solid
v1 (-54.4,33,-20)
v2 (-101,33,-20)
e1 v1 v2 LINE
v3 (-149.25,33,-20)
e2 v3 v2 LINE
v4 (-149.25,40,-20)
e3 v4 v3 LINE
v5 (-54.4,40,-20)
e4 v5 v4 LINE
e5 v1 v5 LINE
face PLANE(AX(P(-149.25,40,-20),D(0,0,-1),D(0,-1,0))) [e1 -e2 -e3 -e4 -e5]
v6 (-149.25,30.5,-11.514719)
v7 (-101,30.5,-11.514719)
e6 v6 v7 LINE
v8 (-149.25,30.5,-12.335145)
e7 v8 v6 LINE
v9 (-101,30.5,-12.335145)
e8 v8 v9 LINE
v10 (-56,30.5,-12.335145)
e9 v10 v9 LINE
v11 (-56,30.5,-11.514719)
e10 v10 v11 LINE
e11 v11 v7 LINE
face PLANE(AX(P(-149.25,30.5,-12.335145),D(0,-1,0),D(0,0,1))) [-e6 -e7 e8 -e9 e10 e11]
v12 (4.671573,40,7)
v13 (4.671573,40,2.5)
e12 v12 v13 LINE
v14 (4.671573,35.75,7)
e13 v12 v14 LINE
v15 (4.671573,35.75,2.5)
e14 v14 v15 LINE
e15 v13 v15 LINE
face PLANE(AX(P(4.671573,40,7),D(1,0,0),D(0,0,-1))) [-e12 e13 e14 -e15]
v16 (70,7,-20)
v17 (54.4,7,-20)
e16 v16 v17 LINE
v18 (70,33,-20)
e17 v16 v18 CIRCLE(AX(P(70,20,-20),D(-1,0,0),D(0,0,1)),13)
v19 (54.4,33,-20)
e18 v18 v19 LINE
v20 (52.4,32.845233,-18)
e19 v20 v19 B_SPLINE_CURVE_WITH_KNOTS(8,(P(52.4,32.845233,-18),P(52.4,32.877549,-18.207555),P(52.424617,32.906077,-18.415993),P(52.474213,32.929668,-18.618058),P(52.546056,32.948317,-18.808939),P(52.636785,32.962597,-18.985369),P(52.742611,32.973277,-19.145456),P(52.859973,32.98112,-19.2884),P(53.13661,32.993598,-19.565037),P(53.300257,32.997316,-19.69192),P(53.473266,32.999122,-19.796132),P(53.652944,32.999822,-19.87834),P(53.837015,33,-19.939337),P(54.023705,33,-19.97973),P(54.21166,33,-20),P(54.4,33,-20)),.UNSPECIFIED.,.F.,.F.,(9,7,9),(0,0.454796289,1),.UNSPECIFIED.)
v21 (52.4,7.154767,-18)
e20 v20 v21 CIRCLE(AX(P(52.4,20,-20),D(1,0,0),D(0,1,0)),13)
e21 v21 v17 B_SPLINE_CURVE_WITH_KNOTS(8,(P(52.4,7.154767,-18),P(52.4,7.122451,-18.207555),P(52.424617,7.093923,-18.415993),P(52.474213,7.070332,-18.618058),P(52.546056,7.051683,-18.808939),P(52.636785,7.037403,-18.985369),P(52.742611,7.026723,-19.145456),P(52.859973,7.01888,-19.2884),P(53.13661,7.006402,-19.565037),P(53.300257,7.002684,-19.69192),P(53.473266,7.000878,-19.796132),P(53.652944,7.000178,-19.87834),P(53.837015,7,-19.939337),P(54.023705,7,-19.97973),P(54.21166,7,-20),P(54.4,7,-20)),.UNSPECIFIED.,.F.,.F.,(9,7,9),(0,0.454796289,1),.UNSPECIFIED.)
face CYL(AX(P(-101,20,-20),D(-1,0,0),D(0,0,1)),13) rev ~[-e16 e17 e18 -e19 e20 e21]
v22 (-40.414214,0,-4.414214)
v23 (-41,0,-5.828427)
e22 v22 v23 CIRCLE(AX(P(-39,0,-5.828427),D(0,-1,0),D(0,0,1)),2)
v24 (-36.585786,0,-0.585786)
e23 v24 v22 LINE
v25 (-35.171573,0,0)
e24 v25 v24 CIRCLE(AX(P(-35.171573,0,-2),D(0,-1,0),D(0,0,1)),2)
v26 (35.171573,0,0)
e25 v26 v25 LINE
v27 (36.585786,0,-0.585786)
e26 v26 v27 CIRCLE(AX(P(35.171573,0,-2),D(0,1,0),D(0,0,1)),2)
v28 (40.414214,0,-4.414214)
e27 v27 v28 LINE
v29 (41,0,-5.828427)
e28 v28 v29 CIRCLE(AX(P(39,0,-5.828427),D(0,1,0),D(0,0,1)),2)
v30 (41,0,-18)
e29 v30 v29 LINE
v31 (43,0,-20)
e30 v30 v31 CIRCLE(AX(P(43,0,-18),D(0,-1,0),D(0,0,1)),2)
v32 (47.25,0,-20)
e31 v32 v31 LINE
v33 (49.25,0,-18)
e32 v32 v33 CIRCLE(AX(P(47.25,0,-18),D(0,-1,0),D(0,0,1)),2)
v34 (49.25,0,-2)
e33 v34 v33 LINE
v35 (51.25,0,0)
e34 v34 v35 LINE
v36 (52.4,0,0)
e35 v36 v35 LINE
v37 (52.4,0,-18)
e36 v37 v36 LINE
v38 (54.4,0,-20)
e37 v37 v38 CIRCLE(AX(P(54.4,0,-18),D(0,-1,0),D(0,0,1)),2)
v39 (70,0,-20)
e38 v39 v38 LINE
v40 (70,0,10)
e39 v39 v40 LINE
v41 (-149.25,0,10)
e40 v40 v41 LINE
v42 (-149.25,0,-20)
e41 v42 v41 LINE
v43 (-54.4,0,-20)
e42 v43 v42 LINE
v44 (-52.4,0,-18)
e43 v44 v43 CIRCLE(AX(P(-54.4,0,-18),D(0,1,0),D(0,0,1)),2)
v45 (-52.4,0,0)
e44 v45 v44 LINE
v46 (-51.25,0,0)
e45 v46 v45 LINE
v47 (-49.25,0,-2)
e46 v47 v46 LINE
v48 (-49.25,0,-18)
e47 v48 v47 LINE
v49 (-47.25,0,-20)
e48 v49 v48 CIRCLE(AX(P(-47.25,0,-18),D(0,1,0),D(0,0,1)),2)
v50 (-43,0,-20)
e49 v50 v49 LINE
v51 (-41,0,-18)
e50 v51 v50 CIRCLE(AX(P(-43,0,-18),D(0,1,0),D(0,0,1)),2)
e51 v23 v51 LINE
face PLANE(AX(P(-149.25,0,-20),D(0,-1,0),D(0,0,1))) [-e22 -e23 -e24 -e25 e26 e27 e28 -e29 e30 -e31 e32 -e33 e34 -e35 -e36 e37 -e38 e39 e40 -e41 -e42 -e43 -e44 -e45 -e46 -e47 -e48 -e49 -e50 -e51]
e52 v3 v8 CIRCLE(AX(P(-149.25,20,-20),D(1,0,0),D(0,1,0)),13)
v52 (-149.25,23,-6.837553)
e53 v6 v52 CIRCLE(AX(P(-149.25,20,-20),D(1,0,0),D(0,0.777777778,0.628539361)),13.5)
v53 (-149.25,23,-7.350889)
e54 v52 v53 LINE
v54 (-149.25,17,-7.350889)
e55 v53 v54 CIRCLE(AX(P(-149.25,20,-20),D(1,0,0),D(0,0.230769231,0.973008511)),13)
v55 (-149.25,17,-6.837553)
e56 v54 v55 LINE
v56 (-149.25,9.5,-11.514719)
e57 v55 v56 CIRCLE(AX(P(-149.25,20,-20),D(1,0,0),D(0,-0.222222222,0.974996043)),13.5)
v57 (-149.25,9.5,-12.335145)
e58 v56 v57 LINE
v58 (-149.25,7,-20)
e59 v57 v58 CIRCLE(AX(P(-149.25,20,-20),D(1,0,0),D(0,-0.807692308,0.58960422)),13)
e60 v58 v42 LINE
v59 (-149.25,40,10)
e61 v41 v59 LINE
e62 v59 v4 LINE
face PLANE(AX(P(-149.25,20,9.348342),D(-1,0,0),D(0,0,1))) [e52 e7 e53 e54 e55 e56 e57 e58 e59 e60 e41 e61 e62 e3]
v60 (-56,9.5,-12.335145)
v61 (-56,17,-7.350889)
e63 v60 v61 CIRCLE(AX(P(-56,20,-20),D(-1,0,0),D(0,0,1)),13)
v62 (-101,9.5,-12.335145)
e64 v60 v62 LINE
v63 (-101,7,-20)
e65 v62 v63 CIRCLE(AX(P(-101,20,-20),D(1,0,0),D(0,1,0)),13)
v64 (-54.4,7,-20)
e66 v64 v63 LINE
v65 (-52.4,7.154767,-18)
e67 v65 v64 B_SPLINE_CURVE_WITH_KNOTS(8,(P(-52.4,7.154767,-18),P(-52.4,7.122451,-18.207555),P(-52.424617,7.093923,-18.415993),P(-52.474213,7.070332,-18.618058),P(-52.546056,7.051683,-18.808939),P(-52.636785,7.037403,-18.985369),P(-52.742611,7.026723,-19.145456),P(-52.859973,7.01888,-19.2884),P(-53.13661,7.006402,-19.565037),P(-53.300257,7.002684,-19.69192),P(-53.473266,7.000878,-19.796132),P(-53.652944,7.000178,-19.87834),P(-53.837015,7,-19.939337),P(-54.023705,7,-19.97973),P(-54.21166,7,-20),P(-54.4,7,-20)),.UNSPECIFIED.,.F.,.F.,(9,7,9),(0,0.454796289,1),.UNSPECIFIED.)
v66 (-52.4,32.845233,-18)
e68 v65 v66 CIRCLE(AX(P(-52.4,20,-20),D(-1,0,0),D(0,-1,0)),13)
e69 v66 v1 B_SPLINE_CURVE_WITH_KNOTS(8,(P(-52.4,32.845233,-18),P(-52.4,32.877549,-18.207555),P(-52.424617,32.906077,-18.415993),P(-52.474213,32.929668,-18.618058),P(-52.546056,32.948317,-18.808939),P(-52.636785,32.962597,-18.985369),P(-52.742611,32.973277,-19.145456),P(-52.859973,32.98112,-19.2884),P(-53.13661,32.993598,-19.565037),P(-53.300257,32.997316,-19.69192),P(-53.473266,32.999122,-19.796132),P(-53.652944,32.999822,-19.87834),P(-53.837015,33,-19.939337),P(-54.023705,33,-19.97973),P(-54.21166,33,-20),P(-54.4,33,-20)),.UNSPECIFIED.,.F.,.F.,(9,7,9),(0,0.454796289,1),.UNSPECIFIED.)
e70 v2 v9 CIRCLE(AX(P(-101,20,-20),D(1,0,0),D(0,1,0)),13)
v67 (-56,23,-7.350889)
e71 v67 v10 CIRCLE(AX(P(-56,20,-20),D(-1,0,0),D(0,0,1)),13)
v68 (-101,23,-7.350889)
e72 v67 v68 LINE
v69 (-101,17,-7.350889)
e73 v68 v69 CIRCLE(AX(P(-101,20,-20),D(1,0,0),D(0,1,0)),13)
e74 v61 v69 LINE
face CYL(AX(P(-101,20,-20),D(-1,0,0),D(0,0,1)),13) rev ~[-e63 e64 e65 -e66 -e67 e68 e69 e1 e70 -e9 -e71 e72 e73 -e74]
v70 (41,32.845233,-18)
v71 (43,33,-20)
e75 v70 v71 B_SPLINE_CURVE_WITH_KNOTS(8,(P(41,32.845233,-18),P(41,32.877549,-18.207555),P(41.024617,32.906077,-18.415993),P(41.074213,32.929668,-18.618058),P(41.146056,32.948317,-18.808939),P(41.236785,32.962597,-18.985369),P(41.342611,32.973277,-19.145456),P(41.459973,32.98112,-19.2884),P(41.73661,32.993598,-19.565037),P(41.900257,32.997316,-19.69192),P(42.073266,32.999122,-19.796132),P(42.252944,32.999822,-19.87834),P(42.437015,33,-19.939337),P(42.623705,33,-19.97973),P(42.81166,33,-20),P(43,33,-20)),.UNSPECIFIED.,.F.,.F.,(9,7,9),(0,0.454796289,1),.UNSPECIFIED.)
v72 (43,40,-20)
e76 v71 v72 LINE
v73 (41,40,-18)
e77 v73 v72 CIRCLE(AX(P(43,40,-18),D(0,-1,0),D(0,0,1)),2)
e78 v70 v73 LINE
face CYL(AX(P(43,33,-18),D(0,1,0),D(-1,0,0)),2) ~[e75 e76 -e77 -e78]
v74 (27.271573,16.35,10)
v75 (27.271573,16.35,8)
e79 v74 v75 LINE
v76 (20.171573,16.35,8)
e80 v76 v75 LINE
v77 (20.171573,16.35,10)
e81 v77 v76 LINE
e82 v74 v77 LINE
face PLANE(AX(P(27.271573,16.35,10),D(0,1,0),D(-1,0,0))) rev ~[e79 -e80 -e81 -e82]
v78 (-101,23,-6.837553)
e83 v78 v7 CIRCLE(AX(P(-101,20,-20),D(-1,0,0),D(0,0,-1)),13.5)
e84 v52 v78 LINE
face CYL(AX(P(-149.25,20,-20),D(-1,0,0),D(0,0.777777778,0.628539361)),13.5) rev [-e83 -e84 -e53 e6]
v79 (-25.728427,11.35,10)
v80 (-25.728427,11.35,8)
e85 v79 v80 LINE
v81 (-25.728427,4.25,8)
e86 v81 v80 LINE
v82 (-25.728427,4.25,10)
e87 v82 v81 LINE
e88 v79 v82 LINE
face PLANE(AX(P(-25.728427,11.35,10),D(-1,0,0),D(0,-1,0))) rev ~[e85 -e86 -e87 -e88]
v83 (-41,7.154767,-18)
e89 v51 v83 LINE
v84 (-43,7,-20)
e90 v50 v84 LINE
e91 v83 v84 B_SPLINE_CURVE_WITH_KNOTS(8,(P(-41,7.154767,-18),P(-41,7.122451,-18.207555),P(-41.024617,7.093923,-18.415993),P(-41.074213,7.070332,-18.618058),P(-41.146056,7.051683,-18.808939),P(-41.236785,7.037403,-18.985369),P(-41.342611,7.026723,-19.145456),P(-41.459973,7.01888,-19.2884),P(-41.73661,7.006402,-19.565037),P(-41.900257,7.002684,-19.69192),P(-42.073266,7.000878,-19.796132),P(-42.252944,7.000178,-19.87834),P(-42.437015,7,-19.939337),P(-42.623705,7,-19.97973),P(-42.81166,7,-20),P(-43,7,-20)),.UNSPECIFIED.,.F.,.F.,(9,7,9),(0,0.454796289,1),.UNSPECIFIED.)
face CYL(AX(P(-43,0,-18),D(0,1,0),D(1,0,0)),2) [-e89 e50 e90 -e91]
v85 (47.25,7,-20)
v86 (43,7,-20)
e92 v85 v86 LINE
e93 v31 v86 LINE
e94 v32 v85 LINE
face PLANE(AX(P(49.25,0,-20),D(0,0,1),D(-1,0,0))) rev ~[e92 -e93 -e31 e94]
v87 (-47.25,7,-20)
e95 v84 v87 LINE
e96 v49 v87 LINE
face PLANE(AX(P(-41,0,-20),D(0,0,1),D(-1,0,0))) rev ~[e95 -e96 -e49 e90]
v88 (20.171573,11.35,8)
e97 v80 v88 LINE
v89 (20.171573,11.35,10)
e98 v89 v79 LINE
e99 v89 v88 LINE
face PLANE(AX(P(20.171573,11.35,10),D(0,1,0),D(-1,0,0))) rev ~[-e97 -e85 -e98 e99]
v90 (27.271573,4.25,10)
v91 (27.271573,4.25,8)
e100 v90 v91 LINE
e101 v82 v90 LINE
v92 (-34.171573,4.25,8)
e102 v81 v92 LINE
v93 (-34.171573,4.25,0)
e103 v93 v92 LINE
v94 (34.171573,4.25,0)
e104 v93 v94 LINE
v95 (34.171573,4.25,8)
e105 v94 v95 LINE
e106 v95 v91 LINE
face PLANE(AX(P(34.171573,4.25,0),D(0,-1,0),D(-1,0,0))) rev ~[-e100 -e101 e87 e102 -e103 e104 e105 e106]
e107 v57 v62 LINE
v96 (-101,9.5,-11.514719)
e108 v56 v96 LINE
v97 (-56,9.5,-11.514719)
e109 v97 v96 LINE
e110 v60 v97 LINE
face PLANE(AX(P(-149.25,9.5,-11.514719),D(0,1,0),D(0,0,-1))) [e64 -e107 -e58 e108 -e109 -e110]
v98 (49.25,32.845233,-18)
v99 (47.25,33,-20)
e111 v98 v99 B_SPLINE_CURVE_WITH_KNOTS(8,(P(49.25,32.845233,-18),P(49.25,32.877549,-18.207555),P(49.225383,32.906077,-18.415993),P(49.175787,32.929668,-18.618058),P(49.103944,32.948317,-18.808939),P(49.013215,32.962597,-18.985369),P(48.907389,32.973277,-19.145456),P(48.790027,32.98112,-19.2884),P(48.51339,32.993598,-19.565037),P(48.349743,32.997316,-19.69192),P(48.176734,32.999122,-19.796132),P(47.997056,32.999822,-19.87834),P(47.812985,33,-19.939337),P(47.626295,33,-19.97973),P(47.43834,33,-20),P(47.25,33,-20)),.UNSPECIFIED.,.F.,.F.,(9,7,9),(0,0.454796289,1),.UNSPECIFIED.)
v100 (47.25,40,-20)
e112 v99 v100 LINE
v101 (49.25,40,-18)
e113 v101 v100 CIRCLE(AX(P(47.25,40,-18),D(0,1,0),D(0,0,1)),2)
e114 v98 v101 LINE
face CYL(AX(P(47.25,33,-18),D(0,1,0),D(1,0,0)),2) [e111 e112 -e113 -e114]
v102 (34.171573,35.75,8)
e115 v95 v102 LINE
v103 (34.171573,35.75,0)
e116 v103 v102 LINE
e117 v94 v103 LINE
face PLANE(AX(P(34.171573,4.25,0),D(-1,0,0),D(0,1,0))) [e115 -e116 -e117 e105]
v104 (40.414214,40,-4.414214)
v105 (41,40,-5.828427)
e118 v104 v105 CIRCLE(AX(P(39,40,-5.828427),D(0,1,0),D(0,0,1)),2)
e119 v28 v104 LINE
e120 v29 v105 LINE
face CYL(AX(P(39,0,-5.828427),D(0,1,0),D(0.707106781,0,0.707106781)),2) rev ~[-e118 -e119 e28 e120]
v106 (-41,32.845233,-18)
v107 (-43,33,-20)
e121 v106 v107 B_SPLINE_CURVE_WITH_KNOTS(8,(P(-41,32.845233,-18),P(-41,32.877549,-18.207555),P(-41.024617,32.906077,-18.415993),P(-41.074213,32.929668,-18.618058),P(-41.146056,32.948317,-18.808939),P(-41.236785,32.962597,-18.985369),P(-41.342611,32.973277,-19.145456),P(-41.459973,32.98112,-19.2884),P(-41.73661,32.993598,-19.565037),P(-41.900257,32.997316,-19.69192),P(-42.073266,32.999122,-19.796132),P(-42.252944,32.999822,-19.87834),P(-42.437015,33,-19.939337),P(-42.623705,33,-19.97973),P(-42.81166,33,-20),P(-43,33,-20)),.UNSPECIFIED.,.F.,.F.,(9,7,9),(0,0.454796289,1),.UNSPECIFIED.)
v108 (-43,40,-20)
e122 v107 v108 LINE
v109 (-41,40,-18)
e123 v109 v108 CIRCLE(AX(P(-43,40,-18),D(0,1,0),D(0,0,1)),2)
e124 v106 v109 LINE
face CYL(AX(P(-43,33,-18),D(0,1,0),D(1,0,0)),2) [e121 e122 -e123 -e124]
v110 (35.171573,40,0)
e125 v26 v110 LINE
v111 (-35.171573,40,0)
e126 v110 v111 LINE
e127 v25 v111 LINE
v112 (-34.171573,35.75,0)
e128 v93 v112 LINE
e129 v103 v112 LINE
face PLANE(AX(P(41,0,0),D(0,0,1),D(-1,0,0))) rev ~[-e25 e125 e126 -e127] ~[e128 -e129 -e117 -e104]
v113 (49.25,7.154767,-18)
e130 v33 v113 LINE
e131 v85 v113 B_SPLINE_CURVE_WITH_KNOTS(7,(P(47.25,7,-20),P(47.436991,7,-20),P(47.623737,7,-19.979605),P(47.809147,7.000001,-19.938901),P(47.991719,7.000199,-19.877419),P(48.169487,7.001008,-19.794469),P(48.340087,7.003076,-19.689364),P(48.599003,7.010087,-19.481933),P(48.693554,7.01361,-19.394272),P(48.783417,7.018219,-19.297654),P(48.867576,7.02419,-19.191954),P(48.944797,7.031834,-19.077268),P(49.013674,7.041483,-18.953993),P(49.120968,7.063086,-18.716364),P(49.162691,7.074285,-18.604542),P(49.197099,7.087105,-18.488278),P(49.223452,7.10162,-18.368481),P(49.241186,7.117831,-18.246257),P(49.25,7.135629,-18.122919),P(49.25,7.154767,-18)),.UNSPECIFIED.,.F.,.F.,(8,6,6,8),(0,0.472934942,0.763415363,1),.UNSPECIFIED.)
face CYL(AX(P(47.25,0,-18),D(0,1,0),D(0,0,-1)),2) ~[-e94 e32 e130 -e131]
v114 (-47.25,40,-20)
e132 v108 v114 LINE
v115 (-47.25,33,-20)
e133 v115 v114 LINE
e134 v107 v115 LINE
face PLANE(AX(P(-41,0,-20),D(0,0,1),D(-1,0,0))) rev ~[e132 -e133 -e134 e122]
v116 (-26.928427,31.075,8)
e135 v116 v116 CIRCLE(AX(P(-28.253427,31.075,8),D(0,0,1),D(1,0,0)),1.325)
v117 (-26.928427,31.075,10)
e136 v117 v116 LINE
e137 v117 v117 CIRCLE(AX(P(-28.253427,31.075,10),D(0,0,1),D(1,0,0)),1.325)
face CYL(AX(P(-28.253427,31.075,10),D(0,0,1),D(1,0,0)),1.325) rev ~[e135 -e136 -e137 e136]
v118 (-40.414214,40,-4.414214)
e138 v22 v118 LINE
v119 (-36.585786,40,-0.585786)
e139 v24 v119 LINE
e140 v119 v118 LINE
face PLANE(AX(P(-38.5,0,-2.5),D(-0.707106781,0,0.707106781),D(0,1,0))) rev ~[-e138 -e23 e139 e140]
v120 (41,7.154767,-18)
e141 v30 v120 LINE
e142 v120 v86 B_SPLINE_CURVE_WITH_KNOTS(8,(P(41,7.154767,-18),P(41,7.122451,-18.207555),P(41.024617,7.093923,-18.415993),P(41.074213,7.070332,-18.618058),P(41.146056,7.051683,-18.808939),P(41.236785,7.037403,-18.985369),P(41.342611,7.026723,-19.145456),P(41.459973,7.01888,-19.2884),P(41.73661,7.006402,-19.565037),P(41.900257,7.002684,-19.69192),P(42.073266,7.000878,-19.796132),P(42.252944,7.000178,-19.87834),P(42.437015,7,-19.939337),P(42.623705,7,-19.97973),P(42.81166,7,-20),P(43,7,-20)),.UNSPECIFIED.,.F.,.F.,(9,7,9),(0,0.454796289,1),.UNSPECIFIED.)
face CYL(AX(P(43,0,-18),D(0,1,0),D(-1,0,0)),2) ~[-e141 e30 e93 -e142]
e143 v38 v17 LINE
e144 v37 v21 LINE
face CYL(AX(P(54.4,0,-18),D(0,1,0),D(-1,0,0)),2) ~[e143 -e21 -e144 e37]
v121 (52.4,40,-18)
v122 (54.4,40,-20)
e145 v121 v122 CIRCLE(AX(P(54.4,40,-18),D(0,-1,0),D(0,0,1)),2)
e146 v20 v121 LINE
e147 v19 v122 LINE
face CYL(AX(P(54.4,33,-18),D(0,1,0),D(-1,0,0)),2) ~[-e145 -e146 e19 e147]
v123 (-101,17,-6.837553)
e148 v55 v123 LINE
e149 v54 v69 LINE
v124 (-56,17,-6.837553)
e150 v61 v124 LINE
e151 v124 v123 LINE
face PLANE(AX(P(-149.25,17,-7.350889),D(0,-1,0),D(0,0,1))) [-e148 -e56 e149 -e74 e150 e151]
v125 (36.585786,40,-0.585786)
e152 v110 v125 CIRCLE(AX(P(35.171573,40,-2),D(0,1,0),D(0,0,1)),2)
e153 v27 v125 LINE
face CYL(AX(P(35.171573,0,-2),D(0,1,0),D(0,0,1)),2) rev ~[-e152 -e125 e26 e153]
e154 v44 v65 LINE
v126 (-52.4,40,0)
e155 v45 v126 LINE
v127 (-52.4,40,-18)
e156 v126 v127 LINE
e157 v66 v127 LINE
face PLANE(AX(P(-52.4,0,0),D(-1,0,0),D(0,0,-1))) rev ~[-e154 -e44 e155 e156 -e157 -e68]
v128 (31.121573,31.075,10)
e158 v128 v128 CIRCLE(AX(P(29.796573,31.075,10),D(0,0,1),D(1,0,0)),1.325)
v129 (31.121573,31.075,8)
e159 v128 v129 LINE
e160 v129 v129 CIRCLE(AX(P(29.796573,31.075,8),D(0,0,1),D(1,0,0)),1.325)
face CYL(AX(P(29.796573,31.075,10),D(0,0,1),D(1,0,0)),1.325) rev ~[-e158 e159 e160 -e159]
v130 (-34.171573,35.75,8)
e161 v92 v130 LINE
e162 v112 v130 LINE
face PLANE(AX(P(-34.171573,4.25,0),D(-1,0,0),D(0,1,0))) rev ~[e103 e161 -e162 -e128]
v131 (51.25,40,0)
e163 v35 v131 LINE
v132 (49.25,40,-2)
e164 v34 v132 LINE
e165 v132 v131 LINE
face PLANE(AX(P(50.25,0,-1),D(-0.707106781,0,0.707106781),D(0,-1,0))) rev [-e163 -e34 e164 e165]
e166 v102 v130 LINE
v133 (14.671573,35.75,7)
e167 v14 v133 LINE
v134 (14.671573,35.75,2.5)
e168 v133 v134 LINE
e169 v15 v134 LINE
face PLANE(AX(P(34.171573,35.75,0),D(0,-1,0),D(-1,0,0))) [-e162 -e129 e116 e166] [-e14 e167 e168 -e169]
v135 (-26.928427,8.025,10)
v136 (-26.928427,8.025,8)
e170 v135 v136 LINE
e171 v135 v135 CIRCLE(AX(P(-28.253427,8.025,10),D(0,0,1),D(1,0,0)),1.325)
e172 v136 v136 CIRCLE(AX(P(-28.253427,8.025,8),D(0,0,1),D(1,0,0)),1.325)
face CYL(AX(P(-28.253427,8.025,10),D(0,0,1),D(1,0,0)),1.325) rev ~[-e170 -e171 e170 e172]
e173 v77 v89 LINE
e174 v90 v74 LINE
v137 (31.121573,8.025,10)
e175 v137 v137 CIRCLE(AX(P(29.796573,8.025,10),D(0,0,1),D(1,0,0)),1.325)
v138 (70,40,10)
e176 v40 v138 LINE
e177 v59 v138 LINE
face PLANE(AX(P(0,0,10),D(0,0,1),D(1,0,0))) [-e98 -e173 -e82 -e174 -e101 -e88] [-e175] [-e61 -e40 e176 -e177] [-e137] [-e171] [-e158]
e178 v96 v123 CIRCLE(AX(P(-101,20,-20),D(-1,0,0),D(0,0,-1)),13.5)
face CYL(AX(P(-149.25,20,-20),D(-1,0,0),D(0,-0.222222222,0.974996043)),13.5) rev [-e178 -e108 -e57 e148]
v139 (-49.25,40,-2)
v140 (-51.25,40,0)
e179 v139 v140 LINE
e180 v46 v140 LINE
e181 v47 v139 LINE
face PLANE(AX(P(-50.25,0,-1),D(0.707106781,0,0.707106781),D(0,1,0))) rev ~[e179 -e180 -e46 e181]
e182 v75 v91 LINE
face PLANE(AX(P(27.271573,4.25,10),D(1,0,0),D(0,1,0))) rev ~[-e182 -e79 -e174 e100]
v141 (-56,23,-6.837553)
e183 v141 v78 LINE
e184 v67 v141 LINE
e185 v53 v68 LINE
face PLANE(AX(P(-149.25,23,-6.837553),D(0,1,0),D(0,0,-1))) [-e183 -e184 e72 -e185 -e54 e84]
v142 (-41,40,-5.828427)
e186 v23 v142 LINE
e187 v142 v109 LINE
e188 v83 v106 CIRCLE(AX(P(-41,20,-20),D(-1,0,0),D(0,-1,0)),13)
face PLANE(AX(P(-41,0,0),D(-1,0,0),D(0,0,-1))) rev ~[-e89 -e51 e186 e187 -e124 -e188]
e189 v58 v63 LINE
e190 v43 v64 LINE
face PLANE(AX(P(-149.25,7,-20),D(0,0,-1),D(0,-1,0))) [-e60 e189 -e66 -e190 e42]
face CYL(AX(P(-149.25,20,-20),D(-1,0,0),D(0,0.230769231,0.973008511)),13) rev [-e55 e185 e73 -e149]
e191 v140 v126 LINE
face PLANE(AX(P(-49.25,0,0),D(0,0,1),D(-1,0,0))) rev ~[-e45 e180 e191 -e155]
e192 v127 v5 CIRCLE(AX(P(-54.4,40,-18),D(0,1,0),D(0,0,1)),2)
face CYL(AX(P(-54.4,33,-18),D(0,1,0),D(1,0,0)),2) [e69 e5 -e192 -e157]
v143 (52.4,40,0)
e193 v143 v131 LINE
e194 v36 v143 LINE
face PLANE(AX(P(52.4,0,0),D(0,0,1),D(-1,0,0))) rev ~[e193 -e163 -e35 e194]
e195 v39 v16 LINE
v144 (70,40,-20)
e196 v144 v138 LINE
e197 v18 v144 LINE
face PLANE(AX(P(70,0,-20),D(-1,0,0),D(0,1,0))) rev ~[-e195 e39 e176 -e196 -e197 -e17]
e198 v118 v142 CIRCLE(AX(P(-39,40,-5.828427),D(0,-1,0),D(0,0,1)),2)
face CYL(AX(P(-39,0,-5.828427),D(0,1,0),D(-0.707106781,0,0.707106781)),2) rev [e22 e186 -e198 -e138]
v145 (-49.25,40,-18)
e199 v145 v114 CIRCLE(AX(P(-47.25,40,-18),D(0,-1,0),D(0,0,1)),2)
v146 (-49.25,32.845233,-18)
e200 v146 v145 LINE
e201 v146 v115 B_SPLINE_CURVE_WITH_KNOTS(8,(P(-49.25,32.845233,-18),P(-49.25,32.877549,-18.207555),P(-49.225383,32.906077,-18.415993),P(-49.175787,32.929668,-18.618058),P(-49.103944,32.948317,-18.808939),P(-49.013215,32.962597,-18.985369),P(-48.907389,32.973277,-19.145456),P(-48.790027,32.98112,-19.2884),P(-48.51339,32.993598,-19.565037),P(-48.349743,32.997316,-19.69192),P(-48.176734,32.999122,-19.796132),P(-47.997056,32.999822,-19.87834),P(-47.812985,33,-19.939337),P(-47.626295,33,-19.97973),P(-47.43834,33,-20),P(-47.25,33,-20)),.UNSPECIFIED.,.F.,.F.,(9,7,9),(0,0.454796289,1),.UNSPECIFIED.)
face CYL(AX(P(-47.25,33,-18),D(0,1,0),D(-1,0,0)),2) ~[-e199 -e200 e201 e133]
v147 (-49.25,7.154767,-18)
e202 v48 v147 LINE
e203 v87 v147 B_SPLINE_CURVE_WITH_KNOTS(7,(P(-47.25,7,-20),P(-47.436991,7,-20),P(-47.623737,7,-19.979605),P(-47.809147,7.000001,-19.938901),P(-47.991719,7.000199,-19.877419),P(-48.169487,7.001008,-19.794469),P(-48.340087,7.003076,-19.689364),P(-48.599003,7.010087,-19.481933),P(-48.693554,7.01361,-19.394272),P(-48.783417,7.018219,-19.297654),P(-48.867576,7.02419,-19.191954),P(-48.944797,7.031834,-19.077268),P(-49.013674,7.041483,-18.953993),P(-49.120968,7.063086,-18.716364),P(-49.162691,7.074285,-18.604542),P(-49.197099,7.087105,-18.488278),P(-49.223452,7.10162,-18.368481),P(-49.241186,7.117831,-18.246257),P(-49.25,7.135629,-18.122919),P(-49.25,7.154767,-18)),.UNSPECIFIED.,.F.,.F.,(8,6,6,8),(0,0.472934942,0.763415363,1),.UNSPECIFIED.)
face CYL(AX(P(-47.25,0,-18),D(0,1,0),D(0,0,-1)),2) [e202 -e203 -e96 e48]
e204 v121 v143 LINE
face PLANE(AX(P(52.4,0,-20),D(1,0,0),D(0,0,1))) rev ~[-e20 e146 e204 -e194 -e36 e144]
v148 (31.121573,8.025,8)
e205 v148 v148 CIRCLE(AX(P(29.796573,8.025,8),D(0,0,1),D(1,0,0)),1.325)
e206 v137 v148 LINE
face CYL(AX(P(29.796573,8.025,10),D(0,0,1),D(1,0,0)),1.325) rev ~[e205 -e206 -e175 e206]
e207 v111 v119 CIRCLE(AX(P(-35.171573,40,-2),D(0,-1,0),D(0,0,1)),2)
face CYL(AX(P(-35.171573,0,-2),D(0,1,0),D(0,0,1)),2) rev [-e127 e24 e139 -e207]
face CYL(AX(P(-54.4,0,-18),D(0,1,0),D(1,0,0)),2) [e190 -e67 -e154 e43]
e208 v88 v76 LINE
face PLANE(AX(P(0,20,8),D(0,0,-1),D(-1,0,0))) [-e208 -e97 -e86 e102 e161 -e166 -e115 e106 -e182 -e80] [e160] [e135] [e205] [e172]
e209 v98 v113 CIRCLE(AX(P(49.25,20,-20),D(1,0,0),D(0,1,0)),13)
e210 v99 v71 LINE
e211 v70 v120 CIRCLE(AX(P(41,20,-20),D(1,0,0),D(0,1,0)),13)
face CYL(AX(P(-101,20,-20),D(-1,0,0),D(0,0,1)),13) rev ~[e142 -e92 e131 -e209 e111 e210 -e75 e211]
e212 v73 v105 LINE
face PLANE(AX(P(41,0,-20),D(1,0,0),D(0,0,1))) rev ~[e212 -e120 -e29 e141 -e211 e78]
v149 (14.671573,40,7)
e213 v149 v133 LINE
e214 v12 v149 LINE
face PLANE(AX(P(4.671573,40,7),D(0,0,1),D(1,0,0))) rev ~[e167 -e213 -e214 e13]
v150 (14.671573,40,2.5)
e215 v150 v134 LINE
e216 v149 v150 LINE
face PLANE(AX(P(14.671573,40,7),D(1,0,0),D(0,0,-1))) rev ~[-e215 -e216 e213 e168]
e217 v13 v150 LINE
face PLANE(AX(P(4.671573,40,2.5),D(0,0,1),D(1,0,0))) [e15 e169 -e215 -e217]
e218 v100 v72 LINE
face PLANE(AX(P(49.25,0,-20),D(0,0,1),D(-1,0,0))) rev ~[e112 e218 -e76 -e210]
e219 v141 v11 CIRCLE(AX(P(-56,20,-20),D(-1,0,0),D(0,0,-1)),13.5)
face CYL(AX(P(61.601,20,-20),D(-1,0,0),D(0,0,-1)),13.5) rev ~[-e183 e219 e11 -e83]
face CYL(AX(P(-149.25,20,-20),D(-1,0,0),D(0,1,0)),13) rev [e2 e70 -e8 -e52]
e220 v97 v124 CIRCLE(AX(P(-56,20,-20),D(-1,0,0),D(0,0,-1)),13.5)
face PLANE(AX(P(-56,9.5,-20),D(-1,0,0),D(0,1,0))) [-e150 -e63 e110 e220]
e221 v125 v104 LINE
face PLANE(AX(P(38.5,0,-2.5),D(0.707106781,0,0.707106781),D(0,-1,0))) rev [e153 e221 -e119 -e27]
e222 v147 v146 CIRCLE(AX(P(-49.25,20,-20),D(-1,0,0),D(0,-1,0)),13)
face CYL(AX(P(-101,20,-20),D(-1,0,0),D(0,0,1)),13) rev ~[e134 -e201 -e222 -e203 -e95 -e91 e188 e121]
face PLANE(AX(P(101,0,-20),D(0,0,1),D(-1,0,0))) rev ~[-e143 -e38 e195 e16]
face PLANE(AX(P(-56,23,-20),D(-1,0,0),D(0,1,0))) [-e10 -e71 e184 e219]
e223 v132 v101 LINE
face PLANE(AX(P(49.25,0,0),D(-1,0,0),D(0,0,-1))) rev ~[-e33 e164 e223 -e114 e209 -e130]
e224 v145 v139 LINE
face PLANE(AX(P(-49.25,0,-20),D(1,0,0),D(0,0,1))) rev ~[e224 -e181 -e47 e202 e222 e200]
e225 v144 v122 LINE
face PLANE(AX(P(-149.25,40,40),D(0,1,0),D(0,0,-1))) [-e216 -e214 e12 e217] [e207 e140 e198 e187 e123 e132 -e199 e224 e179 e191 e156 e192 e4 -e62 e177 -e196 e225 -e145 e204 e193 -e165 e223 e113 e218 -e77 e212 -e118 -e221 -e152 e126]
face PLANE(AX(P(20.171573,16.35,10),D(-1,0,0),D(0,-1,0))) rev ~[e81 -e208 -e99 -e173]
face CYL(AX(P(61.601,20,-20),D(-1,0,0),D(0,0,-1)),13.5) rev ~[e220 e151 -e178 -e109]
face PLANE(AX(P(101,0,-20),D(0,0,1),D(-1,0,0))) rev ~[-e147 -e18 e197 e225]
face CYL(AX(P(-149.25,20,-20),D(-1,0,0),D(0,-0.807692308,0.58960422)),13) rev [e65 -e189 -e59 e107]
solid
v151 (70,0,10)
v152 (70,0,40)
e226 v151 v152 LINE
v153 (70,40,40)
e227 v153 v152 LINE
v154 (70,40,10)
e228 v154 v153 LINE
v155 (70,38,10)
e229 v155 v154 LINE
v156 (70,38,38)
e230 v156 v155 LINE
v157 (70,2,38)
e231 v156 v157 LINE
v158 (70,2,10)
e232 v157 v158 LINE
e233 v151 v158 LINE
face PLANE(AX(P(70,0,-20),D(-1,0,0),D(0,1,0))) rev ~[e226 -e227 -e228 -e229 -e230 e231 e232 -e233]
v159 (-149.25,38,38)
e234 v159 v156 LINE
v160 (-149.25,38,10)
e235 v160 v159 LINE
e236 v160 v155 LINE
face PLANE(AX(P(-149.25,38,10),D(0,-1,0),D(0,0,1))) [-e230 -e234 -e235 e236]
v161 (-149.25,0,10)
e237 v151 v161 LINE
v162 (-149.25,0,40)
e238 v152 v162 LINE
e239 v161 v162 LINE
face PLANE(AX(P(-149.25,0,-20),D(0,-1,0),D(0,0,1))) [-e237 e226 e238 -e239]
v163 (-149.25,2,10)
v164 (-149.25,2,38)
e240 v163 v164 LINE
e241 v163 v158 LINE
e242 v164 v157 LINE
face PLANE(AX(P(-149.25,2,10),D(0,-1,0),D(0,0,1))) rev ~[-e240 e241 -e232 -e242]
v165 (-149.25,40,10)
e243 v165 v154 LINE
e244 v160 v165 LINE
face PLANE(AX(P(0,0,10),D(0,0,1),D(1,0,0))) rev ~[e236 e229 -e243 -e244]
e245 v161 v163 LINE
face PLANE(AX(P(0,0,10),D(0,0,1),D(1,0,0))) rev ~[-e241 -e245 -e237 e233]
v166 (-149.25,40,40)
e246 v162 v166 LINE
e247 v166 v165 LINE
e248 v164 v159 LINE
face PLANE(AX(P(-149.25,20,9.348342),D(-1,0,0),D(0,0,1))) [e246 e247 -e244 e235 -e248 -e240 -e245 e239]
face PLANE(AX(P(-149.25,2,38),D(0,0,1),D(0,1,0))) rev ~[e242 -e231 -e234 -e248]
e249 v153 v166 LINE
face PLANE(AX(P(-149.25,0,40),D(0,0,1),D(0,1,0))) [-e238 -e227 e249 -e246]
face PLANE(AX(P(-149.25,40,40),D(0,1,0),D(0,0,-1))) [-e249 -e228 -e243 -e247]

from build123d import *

# Parameters (mm, degrees)
BOSS_EXTRUDE1_DEPTH     = 40
SKETCH2_R               = 13
CUT_EXTRUDE1_DEPTH      = 210.771304043
CHAMFER1_SIZE           = 5
FILLET3_R               = 2
CHAMFER2_SIZE           = 2
CUT_EXTRUDE2_REACH      = 126.101
CUT_EXTRUDE2_END_RADIUS = 13.5
SKETCH3_W               = 45
SKETCH3_H               = 7.5
SKETCH4_W               = 68.34314575
SKETCH4_H               = 31.5
CUT_EXTRUDE3_DEPTH      = 8
BOSS_EXTRUDE2_START     = 48.25
BOSS_EXTRUDE2_DEPTH     = 48.25
SKETCH6_W               = 28
SKETCH6_H               = 36
CUT_EXTRUDE4_DEPTH      = 257.563954128
CUT_EXTRUDE5_REACH      = 161.611
SKETCH7_W               = 10
SKETCH7_H               = 4.5
SKETCH9_R               = 1.325
CUT_EXTRUDE6_DEPTH      = 158.402549261
SKETCH10_W              = 31
SKETCH10_H              = 40
CUT_EXTRUDE7_DEPTH      = 166.757541331


with BuildPart() as part:
    # Sketch1 → Boss-Extrude1 (new body)
    with BuildSketch(Plane(origin=(0, 0, 0), x_dir=(1, 0, 0), z_dir=(0, 1, 0))):
        Polygon((41, 0), (-41, 0), (-41, 20), (-49.25, 20), (-49.25, 0), (-52.4, 0), (-52.4, 20), (-101, 20), (-101, -40), (101, -40), (101, 20), (52.4, 20), (52.4, 0), (49.25, 0), (49.25, 20), (41, 20), align=None)
    extrude(amount=BOSS_EXTRUDE1_DEPTH)

    # Sketch2 → Cut-Extrude1 (cut, through all)
    with BuildSketch(Plane.ZY.offset(101)):
        with Locations((-20, 20)):
            Circle(SKETCH2_R)
    extrude(amount=-CUT_EXTRUDE1_DEPTH, mode=Mode.SUBTRACT)

    # Chamfer1
    chamfer1_edges = [part.edges().sort_by_distance(p)[0] for p in [
        (-41, 20, 0),
        (41, 20, 0),
    ]]
    chamfer(chamfer1_edges, length=CHAMFER1_SIZE)

    # Fillet3
    fillet3_edges = [part.edges().sort_by_distance(p)[0] for p in [
        (41, 36.5, -20),
        (49.25, 36.5, -20),
        (52.4, 36.5, -20),
        (-52.4, 36.5, -20),
        (-49.25, 36.5, -20),
        (-41, 36.5, -20),
        (41, 3.5, -20),
        (49.25, 3.5, -20),
        (52.4, 3.5, -20),
        (-52.4, 3.5, -20),
        (-49.25, 3.5, -20),
        (-41, 3.5, -20),
        (-36, 20, 0),
        (36, 20, 0),
        (41, 20, -5),
        (-41, 20, -5),
    ]]
    fillet(fillet3_edges, radius=FILLET3_R)

    # Chamfer2
    chamfer2_edges = [part.edges().sort_by_distance(p)[0] for p in [
        (49.25, 20, 0),
        (-49.25, 20, 0),
    ]]
    chamfer(chamfer2_edges, length=CHAMFER2_SIZE)

    # Cut-Extrude2: up to this cylinder (the profile starts inside it)
    cut_extrude2_end = Plane(origin=(-78.5, 20, -20), z_dir=(-1, 0, 0)) * Cylinder(CUT_EXTRUDE2_END_RADIUS, 280.202, mode=Mode.PRIVATE)
    # Sketch3 → Cut-Extrude2 (cut, up to the surface)
    with BuildSketch(Plane(origin=(0, 0, -20), x_dir=(-1, 0, 0), z_dir=(0, 0, -1)), mode=Mode.PRIVATE) as cut_extrude2_sk1:
        with Locations((78.5, 13.25)):
            Rectangle(SKETCH3_W, SKETCH3_H)
    cut_extrude2_tool1 = extrude(cut_extrude2_sk1.sketch, amount=-CUT_EXTRUDE2_REACH, mode=Mode.PRIVATE) & cut_extrude2_end
    add(cut_extrude2_tool1.solids().sort_by_distance((-78.5, 13.25, -20))[0], mode=Mode.SUBTRACT)
    # Sketch3 → Cut-Extrude2 (cut, up to the surface)
    with BuildSketch(Plane(origin=(0, 0, -20), x_dir=(-1, 0, 0), z_dir=(0, 0, -1)), mode=Mode.PRIVATE) as cut_extrude2_sk2:
        with Locations((78.5, 26.75)):
            Rectangle(SKETCH3_W, SKETCH3_H)
    cut_extrude2_tool2 = extrude(cut_extrude2_sk2.sketch, amount=-CUT_EXTRUDE2_REACH, mode=Mode.PRIVATE) & cut_extrude2_end
    add(cut_extrude2_tool2.solids().sort_by_distance((-78.5, 26.75, -20))[0], mode=Mode.SUBTRACT)

    # Sketch4 → Cut-Extrude3 (cut)
    with BuildSketch(Plane(origin=(0, 0, 0), x_dir=(-1, 0, 0), z_dir=(0, 0, -1))):
        with Locations((0, 20)):
            Rectangle(SKETCH4_W, SKETCH4_H)
    extrude(amount=-CUT_EXTRUDE3_DEPTH, mode=Mode.SUBTRACT)

    # Sketch5 → Boss-Extrude2 (add)
    with BuildSketch(Plane.ZY.offset(101).offset(BOSS_EXTRUDE2_START)):
        with BuildLine():
            Line((-20, 7), (-20, 0))
            Line((-20, 0), (40, 0))
            Line((40, 0), (40, 40))
            Line((40, 40), (-20, 40))
            Line((-20, 40), (-20, 33))
            ThreePointArc((-20, 33), (-15.968871126, 32.359207094), (-12.335145142, 30.5))
            Line((-12.335145142, 30.5), (-11.514718626, 30.5))
            ThreePointArc((-11.514718626, 30.5), (-8.544934247, 27.143631331), (-6.837553419, 23))
            Line((-6.837553419, 23), (-7.350889359, 23))
            ThreePointArc((-7.350889359, 23), (-7, 20), (-7.350889359, 17))
            Line((-7.350889359, 17), (-6.837553419, 17))
            ThreePointArc((-6.837553419, 17), (-8.544934247, 12.856368669), (-11.514718626, 9.5))
            Line((-11.514718626, 9.5), (-12.335145142, 9.5))
            ThreePointArc((-12.335145142, 9.5), (-15.968871126, 7.640792906), (-20, 7))
        make_face()
    extrude(amount=-BOSS_EXTRUDE2_DEPTH)

    # Sketch6 → Cut-Extrude4 (cut, through all)
    with BuildSketch(Plane.ZY.offset(149.25)):
        with Locations((24, 20)):
            Rectangle(SKETCH6_W, SKETCH6_H)
    extrude(amount=-CUT_EXTRUDE4_DEPTH, mode=Mode.SUBTRACT)

    # Sketch7 → Cut-Extrude5 (cut, up to next)
    with BuildSketch(Plane(origin=(0, 40, 0), x_dir=(1, 0, 0), z_dir=(0, 1, 0)), mode=Mode.PRIVATE) as cut_extrude5_sk1:
        with Locations((9.671572875, -4.75)):
            Rectangle(SKETCH7_W, SKETCH7_H)
    cut_extrude5_tool1 = extrude(cut_extrude5_sk1.sketch, amount=-CUT_EXTRUDE5_REACH, mode=Mode.PRIVATE) & part.part
    add(cut_extrude5_tool1.solids().sort_by_distance((9.671573, 40, 4.75))[0], mode=Mode.SUBTRACT)

    # Sketch9 → Cut-Extrude6 (cut, through all)
    with BuildSketch(Plane.XY.offset(10)):
        Polygon((20.171572875, 11.35), (-25.728427125, 11.35), (-25.728427125, 4.25), (27.271572875, 4.25), (27.271572875, 16.35), (20.171572875, 16.35), align=None)
        with Locations((29.796572875, 8.025)):
            Circle(SKETCH9_R)
        with Locations((29.796572875, 31.075)):
            Circle(SKETCH9_R)
        with Locations((-28.253427125, 8.025)):
            Circle(SKETCH9_R)
        with Locations((-28.253427125, 31.075)):
            Circle(SKETCH9_R)
    extrude(amount=-CUT_EXTRUDE6_DEPTH, mode=Mode.SUBTRACT)

    # Sketch10 → Cut-Extrude7 (cut, through all)
    with BuildSketch(Plane(origin=(0, 0, -20), x_dir=(-1, 0, 0), z_dir=(0, 0, -1))):
        with Locations((-85.5, 20)):
            Rectangle(SKETCH10_W, SKETCH10_H)
    extrude(amount=-CUT_EXTRUDE7_DEPTH, mode=Mode.SUBTRACT)


with BuildPart() as body_2:
    # Split1: the piece on the far side of the plane
    add(part.part)
    split(bisect_by=Plane.XY.offset(10), keep=Keep.BOTTOM)


with BuildPart() as part_1:
    add(part.part)

    # Split1
    split(bisect_by=Plane.XY.offset(10), keep=Keep.TOP)


solid = Compound([body_2.part, part_1.part])
